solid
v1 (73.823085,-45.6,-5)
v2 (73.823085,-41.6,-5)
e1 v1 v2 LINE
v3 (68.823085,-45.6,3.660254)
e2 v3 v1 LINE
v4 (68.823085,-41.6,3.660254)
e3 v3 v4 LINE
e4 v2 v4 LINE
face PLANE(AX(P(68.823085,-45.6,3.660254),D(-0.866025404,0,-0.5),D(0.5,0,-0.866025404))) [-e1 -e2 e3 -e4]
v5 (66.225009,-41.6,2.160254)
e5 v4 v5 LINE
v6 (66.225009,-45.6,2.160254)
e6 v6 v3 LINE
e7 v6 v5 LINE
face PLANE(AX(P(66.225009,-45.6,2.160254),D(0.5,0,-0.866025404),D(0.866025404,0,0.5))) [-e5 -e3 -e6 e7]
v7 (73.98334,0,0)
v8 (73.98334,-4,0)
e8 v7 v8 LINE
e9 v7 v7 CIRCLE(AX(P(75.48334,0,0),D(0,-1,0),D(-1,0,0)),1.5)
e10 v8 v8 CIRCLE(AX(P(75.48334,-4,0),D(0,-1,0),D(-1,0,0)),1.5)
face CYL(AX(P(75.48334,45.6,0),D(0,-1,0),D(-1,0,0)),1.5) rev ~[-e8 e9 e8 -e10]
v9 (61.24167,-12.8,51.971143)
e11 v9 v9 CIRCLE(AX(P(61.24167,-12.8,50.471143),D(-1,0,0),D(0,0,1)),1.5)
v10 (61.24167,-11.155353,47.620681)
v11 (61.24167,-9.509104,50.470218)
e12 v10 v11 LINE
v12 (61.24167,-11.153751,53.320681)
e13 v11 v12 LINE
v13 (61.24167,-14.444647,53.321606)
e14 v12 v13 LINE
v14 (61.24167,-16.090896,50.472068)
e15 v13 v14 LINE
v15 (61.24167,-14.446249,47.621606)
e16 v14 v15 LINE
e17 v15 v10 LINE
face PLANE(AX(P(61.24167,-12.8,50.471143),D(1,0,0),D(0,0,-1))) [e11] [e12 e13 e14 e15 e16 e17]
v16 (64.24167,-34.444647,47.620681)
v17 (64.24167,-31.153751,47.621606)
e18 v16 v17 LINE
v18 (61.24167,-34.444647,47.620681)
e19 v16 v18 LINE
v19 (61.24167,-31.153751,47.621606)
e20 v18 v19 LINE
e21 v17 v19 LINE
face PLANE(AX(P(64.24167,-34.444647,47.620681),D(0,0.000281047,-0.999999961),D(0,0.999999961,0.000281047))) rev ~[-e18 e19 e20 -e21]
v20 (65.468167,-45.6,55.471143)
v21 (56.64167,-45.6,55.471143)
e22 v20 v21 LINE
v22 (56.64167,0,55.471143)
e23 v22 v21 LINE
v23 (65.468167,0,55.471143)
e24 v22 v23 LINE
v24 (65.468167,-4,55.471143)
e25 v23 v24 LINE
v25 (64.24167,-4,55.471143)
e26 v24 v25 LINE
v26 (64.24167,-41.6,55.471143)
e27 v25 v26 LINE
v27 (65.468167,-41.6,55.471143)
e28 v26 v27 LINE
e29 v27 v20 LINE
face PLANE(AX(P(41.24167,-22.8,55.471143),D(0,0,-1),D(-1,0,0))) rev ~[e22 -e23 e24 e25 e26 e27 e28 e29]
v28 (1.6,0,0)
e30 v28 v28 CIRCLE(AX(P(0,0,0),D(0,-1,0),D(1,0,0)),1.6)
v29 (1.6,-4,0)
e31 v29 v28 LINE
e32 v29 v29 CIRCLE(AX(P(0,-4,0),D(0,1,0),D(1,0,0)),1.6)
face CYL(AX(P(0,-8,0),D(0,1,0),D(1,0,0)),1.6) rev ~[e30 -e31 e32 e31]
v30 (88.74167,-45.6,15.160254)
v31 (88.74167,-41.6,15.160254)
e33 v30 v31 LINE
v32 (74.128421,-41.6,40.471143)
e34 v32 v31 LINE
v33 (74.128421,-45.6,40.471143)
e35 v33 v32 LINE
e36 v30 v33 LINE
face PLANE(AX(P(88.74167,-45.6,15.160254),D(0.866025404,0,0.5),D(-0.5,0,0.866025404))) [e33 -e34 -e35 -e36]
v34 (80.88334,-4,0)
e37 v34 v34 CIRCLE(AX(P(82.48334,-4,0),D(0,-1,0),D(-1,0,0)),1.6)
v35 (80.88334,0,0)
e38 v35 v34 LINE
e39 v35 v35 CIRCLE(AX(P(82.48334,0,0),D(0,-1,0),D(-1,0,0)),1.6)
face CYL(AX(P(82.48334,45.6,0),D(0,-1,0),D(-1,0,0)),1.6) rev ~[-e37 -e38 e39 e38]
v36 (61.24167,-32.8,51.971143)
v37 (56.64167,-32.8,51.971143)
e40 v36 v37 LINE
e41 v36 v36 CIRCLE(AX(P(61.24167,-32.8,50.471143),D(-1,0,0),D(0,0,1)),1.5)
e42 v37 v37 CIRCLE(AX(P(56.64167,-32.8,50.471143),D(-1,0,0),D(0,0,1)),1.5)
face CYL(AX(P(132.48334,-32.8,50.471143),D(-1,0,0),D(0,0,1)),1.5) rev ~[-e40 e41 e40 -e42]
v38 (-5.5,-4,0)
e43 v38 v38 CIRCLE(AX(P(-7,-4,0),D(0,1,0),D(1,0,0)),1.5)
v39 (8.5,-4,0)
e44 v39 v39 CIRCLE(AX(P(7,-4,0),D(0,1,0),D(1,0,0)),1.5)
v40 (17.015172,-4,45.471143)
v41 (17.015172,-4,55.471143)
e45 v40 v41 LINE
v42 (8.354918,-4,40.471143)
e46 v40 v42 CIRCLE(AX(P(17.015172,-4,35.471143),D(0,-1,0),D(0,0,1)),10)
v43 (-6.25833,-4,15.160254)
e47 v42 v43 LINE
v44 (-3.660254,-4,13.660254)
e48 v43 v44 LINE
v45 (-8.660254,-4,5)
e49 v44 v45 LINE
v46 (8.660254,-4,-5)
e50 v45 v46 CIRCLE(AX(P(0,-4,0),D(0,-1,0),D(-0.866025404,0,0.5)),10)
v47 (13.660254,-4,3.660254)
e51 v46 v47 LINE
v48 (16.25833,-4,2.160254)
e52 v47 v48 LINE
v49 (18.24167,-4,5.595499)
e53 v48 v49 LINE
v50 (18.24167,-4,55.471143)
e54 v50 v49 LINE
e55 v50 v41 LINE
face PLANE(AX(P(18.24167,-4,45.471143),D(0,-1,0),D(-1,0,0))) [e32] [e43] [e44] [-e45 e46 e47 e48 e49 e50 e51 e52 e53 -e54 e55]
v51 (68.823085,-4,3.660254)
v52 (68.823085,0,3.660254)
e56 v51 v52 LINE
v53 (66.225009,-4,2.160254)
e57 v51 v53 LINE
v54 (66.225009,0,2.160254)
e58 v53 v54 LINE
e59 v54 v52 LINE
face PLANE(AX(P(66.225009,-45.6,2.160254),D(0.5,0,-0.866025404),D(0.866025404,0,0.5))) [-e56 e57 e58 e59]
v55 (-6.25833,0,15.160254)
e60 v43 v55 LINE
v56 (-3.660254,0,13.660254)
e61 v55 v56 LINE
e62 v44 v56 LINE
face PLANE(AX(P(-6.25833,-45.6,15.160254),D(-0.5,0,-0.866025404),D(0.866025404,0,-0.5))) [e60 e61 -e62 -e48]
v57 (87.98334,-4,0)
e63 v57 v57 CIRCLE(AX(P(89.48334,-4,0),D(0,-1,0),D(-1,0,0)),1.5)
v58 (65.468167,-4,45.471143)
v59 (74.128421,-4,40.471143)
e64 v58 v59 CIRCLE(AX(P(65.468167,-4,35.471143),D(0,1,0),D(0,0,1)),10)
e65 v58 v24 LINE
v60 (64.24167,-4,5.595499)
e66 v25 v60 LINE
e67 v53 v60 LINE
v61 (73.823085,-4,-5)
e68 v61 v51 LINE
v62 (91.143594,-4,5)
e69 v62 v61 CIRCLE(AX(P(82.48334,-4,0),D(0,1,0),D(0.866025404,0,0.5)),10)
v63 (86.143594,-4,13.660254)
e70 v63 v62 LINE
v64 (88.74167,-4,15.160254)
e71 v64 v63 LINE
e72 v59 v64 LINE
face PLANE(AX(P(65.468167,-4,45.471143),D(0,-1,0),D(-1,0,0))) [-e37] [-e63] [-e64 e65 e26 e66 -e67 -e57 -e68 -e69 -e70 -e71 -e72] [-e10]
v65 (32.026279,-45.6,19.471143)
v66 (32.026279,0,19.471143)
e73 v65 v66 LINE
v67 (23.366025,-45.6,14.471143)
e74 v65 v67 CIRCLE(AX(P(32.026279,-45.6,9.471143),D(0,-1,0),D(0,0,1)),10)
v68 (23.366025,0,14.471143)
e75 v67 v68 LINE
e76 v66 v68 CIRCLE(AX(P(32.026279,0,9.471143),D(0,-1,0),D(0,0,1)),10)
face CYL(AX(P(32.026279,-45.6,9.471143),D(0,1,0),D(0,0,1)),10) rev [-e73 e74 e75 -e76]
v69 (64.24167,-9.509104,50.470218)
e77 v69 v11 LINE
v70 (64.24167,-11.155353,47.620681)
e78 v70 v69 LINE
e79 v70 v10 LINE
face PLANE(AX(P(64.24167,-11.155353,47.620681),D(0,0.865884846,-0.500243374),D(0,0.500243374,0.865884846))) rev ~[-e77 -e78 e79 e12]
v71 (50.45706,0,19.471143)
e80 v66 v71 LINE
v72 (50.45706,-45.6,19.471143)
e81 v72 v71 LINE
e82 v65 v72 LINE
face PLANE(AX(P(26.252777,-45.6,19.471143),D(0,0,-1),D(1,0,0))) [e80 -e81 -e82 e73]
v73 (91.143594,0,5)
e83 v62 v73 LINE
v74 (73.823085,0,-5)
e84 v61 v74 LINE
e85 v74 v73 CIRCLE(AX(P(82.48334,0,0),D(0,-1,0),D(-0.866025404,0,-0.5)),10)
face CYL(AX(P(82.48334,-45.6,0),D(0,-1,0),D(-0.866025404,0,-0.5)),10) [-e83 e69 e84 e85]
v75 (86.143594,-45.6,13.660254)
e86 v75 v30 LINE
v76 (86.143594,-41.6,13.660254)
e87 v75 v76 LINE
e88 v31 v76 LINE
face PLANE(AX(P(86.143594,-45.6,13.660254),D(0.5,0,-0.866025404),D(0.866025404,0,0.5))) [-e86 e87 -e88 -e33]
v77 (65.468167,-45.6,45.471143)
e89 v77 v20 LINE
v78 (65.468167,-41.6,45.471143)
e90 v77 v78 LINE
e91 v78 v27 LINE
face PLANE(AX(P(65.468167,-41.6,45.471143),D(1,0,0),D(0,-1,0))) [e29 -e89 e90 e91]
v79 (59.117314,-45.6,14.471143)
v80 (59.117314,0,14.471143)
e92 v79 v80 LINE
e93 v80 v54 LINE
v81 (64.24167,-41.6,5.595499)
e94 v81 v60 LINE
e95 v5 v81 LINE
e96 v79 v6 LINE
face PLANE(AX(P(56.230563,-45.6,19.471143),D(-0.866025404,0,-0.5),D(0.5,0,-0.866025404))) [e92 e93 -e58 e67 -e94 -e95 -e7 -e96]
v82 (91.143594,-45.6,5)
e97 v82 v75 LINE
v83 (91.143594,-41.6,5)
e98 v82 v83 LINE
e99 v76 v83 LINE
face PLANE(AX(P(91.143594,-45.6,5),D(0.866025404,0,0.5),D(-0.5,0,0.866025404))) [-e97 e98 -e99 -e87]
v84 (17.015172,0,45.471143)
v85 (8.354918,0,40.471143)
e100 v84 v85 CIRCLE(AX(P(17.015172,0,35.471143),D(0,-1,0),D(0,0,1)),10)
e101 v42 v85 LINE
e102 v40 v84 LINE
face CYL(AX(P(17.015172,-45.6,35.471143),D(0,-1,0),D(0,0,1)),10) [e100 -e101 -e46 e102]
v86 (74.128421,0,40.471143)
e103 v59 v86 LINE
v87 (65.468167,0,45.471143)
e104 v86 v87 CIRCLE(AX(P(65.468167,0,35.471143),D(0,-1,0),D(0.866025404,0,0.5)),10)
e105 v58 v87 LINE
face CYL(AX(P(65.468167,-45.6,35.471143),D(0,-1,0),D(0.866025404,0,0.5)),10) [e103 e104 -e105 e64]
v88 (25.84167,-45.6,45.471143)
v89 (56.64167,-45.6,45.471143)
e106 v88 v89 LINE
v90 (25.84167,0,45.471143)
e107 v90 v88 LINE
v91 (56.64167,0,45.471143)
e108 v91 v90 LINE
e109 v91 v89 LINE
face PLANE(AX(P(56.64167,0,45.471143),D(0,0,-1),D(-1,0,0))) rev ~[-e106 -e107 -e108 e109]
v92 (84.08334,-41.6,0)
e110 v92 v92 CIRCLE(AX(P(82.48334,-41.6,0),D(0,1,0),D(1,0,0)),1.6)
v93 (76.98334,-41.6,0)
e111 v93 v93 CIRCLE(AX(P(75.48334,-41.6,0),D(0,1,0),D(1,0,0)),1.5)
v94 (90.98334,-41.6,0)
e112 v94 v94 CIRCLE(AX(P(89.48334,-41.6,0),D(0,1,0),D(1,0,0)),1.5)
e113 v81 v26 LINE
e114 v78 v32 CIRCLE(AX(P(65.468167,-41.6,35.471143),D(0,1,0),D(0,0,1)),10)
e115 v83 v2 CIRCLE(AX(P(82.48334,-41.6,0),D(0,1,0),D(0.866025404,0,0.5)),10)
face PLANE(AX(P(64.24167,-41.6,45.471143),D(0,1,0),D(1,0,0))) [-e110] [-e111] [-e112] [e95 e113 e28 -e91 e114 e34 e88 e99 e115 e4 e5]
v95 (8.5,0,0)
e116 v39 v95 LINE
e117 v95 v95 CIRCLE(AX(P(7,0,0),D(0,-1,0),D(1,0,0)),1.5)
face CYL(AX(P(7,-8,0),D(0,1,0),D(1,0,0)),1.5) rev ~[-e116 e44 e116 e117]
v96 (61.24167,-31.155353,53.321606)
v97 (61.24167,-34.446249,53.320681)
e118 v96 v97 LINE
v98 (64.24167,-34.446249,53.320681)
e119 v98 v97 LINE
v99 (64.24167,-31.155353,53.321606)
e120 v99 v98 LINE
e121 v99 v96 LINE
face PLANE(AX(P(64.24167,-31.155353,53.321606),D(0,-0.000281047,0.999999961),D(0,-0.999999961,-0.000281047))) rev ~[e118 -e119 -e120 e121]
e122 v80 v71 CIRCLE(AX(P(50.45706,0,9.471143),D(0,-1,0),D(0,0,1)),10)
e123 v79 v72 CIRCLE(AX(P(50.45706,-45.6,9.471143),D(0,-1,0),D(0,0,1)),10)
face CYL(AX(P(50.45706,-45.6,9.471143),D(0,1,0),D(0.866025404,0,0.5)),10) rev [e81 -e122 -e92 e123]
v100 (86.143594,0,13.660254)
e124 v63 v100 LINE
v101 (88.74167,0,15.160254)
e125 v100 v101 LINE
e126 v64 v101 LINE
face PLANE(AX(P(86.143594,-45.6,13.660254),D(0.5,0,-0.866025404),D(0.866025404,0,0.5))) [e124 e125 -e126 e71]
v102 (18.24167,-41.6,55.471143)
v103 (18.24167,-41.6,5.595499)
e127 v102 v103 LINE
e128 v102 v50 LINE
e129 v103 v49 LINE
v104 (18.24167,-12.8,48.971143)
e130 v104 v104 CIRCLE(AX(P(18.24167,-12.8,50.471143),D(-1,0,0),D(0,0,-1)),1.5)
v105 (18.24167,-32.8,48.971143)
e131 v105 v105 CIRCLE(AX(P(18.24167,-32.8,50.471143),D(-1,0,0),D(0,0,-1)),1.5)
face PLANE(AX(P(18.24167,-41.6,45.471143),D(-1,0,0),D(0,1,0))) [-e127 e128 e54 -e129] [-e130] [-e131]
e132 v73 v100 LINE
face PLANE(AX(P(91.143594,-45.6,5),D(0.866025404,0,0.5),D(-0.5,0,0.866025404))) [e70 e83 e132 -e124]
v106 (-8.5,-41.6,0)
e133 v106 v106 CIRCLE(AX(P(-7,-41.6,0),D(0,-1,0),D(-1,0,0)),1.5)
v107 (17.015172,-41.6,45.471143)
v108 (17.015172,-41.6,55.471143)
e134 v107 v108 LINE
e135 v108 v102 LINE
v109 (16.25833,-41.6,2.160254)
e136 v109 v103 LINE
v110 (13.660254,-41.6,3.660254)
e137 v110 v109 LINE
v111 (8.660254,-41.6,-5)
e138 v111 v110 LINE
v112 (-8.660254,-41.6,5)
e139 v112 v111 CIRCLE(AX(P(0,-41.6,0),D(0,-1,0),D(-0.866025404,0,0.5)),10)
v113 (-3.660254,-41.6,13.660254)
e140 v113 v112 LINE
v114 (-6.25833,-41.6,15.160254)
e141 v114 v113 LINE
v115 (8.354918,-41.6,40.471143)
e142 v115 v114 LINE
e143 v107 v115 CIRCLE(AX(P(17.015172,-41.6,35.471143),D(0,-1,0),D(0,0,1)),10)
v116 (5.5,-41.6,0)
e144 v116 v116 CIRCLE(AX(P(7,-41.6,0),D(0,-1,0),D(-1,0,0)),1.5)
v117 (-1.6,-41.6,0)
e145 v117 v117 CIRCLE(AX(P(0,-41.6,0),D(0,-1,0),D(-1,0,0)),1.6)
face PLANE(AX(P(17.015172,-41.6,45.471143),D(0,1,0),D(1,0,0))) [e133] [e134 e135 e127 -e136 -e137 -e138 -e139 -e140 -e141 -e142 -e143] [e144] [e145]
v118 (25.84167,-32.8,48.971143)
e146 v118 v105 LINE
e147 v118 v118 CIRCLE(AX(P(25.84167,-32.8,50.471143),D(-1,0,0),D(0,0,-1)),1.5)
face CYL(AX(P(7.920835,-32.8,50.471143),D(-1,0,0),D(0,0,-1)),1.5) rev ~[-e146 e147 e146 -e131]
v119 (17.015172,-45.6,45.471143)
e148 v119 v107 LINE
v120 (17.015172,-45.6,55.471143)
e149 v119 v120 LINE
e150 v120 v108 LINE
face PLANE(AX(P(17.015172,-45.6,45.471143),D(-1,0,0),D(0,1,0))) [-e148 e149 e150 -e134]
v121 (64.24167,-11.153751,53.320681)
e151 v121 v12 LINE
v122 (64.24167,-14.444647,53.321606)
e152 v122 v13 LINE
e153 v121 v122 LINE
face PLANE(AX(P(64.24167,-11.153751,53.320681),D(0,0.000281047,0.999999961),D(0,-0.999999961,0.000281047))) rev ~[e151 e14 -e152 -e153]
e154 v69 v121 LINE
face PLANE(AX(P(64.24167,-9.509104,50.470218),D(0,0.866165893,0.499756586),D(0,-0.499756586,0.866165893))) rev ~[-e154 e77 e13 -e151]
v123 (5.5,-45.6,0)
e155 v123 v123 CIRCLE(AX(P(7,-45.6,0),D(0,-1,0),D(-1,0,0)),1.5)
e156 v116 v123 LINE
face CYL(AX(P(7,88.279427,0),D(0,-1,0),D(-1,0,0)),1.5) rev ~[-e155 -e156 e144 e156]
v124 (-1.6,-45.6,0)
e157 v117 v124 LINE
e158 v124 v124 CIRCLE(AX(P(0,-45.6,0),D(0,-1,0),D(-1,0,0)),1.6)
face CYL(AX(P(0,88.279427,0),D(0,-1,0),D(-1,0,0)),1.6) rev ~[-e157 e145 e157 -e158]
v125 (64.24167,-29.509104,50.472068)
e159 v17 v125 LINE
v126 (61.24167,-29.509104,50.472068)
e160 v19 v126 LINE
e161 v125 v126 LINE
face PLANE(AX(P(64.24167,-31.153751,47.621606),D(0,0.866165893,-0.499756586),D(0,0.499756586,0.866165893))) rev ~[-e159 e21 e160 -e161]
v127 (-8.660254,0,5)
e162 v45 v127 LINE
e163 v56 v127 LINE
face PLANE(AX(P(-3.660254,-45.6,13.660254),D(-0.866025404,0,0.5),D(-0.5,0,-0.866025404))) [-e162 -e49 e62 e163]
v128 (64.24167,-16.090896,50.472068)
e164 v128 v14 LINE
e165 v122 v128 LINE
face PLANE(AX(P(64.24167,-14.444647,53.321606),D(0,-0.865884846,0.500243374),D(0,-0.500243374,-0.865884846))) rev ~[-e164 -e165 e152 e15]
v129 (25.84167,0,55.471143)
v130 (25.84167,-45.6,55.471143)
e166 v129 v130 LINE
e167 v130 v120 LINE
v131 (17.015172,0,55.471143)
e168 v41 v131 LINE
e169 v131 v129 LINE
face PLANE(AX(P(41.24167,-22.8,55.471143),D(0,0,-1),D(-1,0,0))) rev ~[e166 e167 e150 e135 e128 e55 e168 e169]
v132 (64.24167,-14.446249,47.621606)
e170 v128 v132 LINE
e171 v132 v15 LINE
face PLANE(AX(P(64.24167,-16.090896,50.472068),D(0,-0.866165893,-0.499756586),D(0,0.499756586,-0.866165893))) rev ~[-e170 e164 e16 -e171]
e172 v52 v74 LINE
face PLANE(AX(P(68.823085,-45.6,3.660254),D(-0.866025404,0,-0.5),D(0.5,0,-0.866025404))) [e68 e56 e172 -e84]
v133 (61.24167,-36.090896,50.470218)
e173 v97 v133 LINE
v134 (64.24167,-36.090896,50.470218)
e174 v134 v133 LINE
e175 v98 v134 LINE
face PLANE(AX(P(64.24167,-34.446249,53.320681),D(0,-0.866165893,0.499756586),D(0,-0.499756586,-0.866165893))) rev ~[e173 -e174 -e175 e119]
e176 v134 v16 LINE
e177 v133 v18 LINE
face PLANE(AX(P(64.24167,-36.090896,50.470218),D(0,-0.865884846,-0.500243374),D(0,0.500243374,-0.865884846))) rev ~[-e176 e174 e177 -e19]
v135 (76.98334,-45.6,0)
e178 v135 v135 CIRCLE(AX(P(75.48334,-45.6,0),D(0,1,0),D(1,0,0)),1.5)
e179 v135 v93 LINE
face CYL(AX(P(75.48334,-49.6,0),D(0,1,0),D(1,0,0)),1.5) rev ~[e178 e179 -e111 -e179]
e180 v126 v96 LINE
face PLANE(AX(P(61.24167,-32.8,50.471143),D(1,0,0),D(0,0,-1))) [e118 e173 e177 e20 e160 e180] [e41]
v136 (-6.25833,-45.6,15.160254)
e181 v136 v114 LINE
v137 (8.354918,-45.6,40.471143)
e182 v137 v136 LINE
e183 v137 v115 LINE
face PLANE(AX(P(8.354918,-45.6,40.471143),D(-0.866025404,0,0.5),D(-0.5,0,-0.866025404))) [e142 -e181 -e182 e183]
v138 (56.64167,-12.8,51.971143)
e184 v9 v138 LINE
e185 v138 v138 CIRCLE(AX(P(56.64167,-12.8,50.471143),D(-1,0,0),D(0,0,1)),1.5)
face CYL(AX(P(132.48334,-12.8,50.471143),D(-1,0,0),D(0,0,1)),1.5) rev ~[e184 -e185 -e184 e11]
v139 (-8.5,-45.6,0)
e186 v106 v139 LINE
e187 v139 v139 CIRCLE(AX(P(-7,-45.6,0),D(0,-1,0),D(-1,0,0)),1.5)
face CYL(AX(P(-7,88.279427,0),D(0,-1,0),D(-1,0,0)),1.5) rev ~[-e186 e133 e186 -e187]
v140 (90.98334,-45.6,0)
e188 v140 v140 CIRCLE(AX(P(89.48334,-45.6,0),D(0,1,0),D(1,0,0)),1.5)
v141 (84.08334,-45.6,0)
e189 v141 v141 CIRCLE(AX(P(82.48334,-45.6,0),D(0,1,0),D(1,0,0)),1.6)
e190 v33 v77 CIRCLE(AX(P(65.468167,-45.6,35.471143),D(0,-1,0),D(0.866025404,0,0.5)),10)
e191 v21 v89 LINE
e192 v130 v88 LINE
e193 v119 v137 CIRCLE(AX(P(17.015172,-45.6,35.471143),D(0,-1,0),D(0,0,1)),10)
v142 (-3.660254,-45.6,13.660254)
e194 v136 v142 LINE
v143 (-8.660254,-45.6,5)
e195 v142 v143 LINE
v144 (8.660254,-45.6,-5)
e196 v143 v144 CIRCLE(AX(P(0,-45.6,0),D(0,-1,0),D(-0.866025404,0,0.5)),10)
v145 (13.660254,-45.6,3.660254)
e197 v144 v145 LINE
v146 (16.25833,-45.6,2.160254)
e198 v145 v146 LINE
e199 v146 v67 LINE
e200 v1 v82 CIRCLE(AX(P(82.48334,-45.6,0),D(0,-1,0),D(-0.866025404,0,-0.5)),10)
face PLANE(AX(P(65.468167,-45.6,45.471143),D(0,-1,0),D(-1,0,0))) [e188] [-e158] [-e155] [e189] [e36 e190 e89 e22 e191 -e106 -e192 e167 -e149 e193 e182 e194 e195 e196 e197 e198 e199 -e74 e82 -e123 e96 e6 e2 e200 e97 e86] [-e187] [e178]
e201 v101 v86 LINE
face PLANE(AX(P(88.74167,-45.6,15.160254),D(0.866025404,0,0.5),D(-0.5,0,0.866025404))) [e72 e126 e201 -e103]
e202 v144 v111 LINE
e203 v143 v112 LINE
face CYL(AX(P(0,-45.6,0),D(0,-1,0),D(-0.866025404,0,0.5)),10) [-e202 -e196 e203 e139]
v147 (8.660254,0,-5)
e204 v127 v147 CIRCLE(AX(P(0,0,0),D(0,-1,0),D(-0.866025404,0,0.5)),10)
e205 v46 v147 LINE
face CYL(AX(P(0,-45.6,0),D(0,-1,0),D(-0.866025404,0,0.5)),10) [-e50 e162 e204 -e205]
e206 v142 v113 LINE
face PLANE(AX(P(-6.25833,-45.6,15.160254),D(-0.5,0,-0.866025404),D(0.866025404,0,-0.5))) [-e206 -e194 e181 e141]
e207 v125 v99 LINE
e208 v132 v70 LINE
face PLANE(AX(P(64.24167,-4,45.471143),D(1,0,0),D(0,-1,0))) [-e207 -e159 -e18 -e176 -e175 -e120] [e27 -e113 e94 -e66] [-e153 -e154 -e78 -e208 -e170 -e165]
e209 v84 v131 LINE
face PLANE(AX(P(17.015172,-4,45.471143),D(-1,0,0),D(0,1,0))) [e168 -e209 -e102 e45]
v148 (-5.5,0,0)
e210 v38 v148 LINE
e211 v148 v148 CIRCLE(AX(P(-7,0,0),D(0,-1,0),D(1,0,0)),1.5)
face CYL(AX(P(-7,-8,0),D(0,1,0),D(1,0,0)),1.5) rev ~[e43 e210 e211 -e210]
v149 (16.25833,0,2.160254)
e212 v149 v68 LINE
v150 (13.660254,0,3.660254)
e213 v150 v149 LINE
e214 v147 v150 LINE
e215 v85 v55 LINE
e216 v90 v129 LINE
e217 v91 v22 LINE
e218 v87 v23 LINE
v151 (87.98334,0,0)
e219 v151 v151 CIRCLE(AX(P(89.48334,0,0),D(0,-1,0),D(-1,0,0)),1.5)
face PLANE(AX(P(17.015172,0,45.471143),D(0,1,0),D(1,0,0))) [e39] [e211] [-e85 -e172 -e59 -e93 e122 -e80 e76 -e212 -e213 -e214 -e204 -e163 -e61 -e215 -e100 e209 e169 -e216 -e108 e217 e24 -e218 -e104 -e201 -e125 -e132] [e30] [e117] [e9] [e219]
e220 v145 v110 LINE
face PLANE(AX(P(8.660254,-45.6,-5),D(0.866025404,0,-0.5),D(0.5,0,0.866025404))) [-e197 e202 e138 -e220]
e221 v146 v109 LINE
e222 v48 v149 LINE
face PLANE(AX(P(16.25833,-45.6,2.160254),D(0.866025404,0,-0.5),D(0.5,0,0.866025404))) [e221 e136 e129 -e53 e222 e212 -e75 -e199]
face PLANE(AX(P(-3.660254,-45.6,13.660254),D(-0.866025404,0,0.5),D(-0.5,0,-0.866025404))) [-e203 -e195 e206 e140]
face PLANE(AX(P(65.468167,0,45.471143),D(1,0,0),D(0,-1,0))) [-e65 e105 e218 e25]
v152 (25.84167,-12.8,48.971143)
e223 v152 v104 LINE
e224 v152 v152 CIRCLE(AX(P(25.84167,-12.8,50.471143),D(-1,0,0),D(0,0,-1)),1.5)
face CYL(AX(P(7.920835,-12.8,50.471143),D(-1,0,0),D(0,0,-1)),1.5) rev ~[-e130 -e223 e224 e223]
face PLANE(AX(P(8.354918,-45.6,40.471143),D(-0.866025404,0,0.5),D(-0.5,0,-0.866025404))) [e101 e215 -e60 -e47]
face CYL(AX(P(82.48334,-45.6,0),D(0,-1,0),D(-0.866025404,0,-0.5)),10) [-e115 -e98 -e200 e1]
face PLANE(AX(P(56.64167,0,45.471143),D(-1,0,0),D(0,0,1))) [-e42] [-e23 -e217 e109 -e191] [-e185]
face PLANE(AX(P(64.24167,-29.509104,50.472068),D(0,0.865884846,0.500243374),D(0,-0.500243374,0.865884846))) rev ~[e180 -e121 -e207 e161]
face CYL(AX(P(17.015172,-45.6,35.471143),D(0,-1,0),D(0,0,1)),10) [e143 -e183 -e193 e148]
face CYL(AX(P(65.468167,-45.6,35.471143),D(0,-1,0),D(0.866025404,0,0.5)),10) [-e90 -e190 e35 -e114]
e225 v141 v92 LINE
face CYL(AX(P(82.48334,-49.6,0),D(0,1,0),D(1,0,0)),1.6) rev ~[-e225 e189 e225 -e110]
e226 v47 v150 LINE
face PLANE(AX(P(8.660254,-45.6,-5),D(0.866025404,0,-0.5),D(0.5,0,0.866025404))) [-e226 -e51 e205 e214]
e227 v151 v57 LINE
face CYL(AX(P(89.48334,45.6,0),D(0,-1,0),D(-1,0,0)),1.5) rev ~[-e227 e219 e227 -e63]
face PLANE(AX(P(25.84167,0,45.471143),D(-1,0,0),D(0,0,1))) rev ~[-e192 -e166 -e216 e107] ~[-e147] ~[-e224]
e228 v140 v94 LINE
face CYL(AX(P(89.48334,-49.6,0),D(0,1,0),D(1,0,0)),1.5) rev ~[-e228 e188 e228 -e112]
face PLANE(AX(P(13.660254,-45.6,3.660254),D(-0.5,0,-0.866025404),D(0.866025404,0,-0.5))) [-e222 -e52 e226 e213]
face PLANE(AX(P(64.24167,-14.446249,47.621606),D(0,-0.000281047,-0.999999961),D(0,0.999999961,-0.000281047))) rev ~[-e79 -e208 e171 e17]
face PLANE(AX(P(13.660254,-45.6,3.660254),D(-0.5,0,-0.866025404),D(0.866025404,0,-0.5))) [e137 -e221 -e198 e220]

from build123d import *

# Parameters (mm, degrees)
SALIENTE_EXTRUIR1_DEPTH                = 45.6
CORTAR_EXTRUIR1_START                  = -37.6
CORTAR_EXTRUIR1_DEPTH                  = 37.6
CORTAR_EXTRUIR2_DEPTH                  = 37.6
SALIENTE_EXTRUIR2_DEPTH                = 10
CROQUIS5_W                             = 30.8
CROQUIS5_H                             = 10
CORTAR_EXTRUIR3_DEPTH                  = 118.087897795
CORTAR_EXTRUIR4_DEPTH                  = 3
CORTAR_EXTRUIR5_DEPTH                  = 3
CROQUIS8_W                             = 1.5
CROQUIS8_H                             = 35.841669751
DI_METRO_DE_TALADRO_3_0_3_1_AT_2_COUNT = 2
DI_METRO_DE_TALADRO_3_0_3_1_AT_2_PITCH = 20
DI_METRO_DE_TALADRO_3_0_3_2_D          = 3
DI_METRO_DE_TALADRO_3_0_3_2_DEPTH      = 4
DI_METRO_DE_TALADRO_3_2_3_2_1_D        = 3.2
DI_METRO_DE_TALADRO_3_2_3_2_1_DEPTH    = 4
DI_METRO_DE_TALADRO_3_0_3_3_D          = 3
DI_METRO_DE_TALADRO_3_0_3_3_DEPTH      = 4
DI_METRO_DE_TALADRO_3_0_3_4_D          = 3
DI_METRO_DE_TALADRO_3_0_3_5_D          = 3
DI_METRO_DE_TALADRO_3_0_3_5_DEPTH      = 45.6
DI_METRO_DE_TALADRO_3_2_3_2_2_D        = 3.2
DI_METRO_DE_TALADRO_3_2_3_2_2_DEPTH    = 4
DI_METRO_DE_TALADRO_3_2_3_2_3_D        = 3.2
DI_METRO_DE_TALADRO_3_2_3_2_4_D        = 3.2
DI_METRO_DE_TALADRO_3_2_3_2_4_DEPTH    = 45.6
DI_METRO_DE_TALADRO_3_0_3_6_D          = 3
DI_METRO_DE_TALADRO_3_0_3_6_DEPTH      = 71.241669751
REDONDEO1_R                            = 10


with BuildPart() as part:
    # Croquis1 → Saliente-Extruir1 (new body)
    with BuildSketch(Plane.XZ.offset(45.6)):
        with BuildLine():
            Line((65.468167059, 45.47114317), (17.015172443, 45.47114317))
            ThreePointArc((17.015172443, 45.47114317), (12.015172443, 44.131397208), (8.354918405, 40.47114317))
            Line((8.354918405, 40.47114317), (-6.258330249, 15.160254038))
            Line((-6.258330249, 15.160254038), (-3.660254038, 13.660254038))
            Line((-3.660254038, 13.660254038), (-8.660254038, 5))
            ThreePointArc((-8.660254038, 5), (-5, -8.660254038), (8.660254038, -5))
            Line((8.660254038, -5), (13.660254038, 3.660254038))
            Line((13.660254038, 3.660254038), (16.258330249, 2.160254038))
            Line((16.258330249, 2.160254038), (26.25277675, 19.47114317))
            Line((26.25277675, 19.47114317), (56.230562752, 19.47114317))
            Line((56.230562752, 19.47114317), (66.225009252, 2.160254038))
            Line((66.225009252, 2.160254038), (68.823085464, 3.660254038))
            Line((68.823085464, 3.660254038), (73.823085464, -5))
            ThreePointArc((73.823085464, -5), (87.483339502, -8.660254038), (91.143593539, 5))
            Line((91.143593539, 5), (86.143593539, 13.660254038))
            Line((86.143593539, 13.660254038), (88.741669751, 15.160254038))
            Line((88.741669751, 15.160254038), (74.128421097, 40.47114317))
            ThreePointArc((74.128421097, 40.47114317), (70.468167059, 44.131397208), (65.468167059, 45.47114317))
        make_face()
    extrude(amount=-SALIENTE_EXTRUIR1_DEPTH)

    # Croquis2 → Cortar-Extruir1 (cut)
    with BuildSketch(Plane(origin=(0, -4, 0), x_dir=(1, 0, 0), z_dir=(0, 1, 0)).offset(CORTAR_EXTRUIR1_START)):
        with BuildLine():
            Line((64.241669751, -45.47114317), (65.468167059, -45.47114317))
            ThreePointArc((65.468167059, -45.47114317), (70.468167059, -44.131397208), (74.128421097, -40.47114317))
            Line((74.128421097, -40.47114317), (88.741669751, -15.160254038))
            Line((88.741669751, -15.160254038), (86.143593539, -13.660254038))
            Line((86.143593539, -13.660254038), (91.143593539, -5))
            ThreePointArc((91.143593539, -5), (87.483339502, 8.660254038), (73.823085464, 5))
            Line((73.823085464, 5), (68.823085464, -3.660254038))
            Line((68.823085464, -3.660254038), (66.225009252, -2.160254038))
            Line((66.225009252, -2.160254038), (64.241669751, -5.595498823))
            Line((64.241669751, -5.595498823), (64.241669751, -45.47114317))
        make_face()
    extrude(amount=CORTAR_EXTRUIR1_DEPTH, mode=Mode.SUBTRACT)

    # Croquis3 → Cortar-Extruir2 (cut)
    with BuildSketch(Plane.XZ.offset(41.6)):
        with BuildLine():
            Line((18.241669751, 5.595498823), (18.241669751, 45.47114317))
            Line((18.241669751, 45.47114317), (17.015172443, 45.47114317))
            ThreePointArc((17.015172443, 45.47114317), (12.015172443, 44.131397208), (8.354918405, 40.47114317))
            Line((8.354918405, 40.47114317), (-6.258330249, 15.160254038))
            Line((-6.258330249, 15.160254038), (-3.660254038, 13.660254038))
            Line((-3.660254038, 13.660254038), (-8.660254038, 5))
            ThreePointArc((-8.660254038, 5), (-5, -8.660254038), (8.660254038, -5))
            Line((8.660254038, -5), (13.660254038, 3.660254038))
            Line((13.660254038, 3.660254038), (16.258330249, 2.160254038))
            Line((16.258330249, 2.160254038), (18.241669751, 5.595498823))
        make_face()
    extrude(amount=-CORTAR_EXTRUIR2_DEPTH, mode=Mode.SUBTRACT)

    # Croquis4 → Saliente-Extruir2 (add)
    with BuildSketch(Plane.XY.offset(45.47114317)):
        Polygon((65.468167059, -45.6), (17.015172443, -45.6), (17.015172443, -41.6), (18.241669751, -41.6), (18.241669751, -4), (17.015172443, -4), (17.015172443, 0), (65.468167059, 0), (65.468167059, -4), (64.241669751, -4), (64.241669751, -41.6), (65.468167059, -41.6), align=None)
    extrude(amount=SALIENTE_EXTRUIR2_DEPTH)

    # Croquis5 → Cortar-Extruir3 (cut, through all)
    with BuildSketch(Plane(origin=(0, 0, 0), x_dir=(-1, 0, 0), z_dir=(0, 1, 0))):
        with Locations((-41.241669751, 50.47114317)):
            Rectangle(CROQUIS5_W, CROQUIS5_H)
    extrude(amount=-CORTAR_EXTRUIR3_DEPTH, mode=Mode.SUBTRACT)

    # Croquis6 → Cortar-Extruir4 (cut)
    with BuildSketch(Plane(origin=(64.241669751, 0, 0), x_dir=(0, 0, -1), z_dir=(1, 0, 0))):
        Polygon((-47.620680834, -34.444647218), (-47.621605732, -31.153750813), (-50.472068068, -29.509103596), (-53.321605506, -31.155352782), (-53.320680609, -34.446249187), (-50.470218273, -36.090896404), align=None)
    extrude(amount=-CORTAR_EXTRUIR4_DEPTH, mode=Mode.SUBTRACT)

    # Croquis7 → Cortar-Extruir5 (cut)
    with BuildSketch(Plane(origin=(64.241669751, 0, 0), x_dir=(0, 0, -1), z_dir=(1, 0, 0))):
        Polygon((-50.470218273, -9.509103596), (-53.320680609, -11.153750813), (-53.321605506, -14.444647218), (-50.472068068, -16.090896404), (-47.621605732, -14.446249187), (-47.620680834, -11.155352782), align=None)
    extrude(amount=-CORTAR_EXTRUIR5_DEPTH, mode=Mode.SUBTRACT)

    # Croquis8 → Diámetro de taladro Ø3.0 (3)1 (revolve, cut)
    with BuildSketch(Plane(origin=(25.841669751, -12.8, 50.47114317), x_dir=(0, 0, -1), z_dir=(0, 1, 0))):
        with Locations((0.75, 17.920834876)):
            Rectangle(CROQUIS8_W, CROQUIS8_H)
    di_metro_de_taladro_3_0_3_1 = revolve(axis=Axis((32.191669751, -12.8, 50.47114317), (-1, 0, 0)), mode=Mode.SUBTRACT)

    # Diámetro de taladro Ø3.0 (3)1 at 2: Diámetro de taladro Ø3.0 (3)1 ×2
    with Locations(*[(0, -i * DI_METRO_DE_TALADRO_3_0_3_1_AT_2_PITCH, 0) for i in range(1, DI_METRO_DE_TALADRO_3_0_3_1_AT_2_COUNT)]):
        add(di_metro_de_taladro_3_0_3_1, mode=Mode.SUBTRACT)

    # Diámetro de taladro Ø3.0 (3)2
    with Locations(Plane(origin=(0, -45.6, 0), x_dir=(-1, 0, 0), z_dir=(0, -1, 0))):
        with Locations((-89.483339502, 0), (-75.483339502, 0)):
            Hole(DI_METRO_DE_TALADRO_3_0_3_2_D / 2, depth=DI_METRO_DE_TALADRO_3_0_3_2_DEPTH)

    # Diámetro de taladro Ø3.2 (3.2)1
    with Locations(Plane(origin=(0, -45.6, 0), x_dir=(-1, 0, 0), z_dir=(0, -1, 0))):
        with Locations((-82.483339502, 0)):
            Hole(DI_METRO_DE_TALADRO_3_2_3_2_1_D / 2, depth=DI_METRO_DE_TALADRO_3_2_3_2_1_DEPTH)

    # Diámetro de taladro Ø3.0 (3)3
    with Locations(Plane(origin=(0, -4, 0), x_dir=(-1, 0, 0), z_dir=(0, -1, 0))):
        with Locations((-7, 0), (7, 0)):
            Hole(DI_METRO_DE_TALADRO_3_0_3_3_D / 2, depth=DI_METRO_DE_TALADRO_3_0_3_3_DEPTH)

    # Diámetro de taladro Ø3.0 (3)4 (through all)
    with Locations(Plane(origin=(0, -41.6, 0), x_dir=(1, 0, 0), z_dir=(0, 1, 0))):
        with Locations((7, 0), (-7, 0)):
            Hole(DI_METRO_DE_TALADRO_3_0_3_4_D / 2)

    # Diámetro de taladro Ø3.0 (3)5
    with Locations(Plane(origin=(0, 0, 0), x_dir=(1, 0, 0), z_dir=(0, 1, 0))):
        with Locations((89.483339502, 0), (75.483339502, 0)):
            Hole(DI_METRO_DE_TALADRO_3_0_3_5_D / 2, depth=DI_METRO_DE_TALADRO_3_0_3_5_DEPTH)

    # Diámetro de taladro Ø3.2 (3.2)2
    with Locations(Plane(origin=(0, -4, 0), x_dir=(-1, 0, 0), z_dir=(0, -1, 0))):
        with Locations((0, 0)):
            Hole(DI_METRO_DE_TALADRO_3_2_3_2_2_D / 2, depth=DI_METRO_DE_TALADRO_3_2_3_2_2_DEPTH)

    # Diámetro de taladro Ø3.2 (3.2)3 (through all)
    with Locations(Plane(origin=(0, -41.6, 0), x_dir=(1, 0, 0), z_dir=(0, 1, 0))):
        with Locations((0, 0)):
            Hole(DI_METRO_DE_TALADRO_3_2_3_2_3_D / 2)

    # Diámetro de taladro Ø3.2 (3.2)4
    with Locations(Plane(origin=(0, 0, 0), x_dir=(1, 0, 0), z_dir=(0, 1, 0))):
        with Locations((82.483339502, 0)):
            Hole(DI_METRO_DE_TALADRO_3_2_3_2_4_D / 2, depth=DI_METRO_DE_TALADRO_3_2_3_2_4_DEPTH)

    # Diámetro de taladro Ø3.0 (3)6
    with Locations(Plane(origin=(61.241669751, 0, 0), x_dir=(0, 0, -1), z_dir=(1, 0, 0))):
        with Locations((-50.47114317, -12.8), (-50.47114317, -32.8)):
            Hole(DI_METRO_DE_TALADRO_3_0_3_6_D / 2, depth=DI_METRO_DE_TALADRO_3_0_3_6_DEPTH)

    # Redondeo1
    redondeo1_edges = [part.edges().sort_by_distance(p)[0] for p in [
        (56.230562752, -22.8, 19.47114317),
        (26.25277675, -22.8, 19.47114317),
    ]]
    fillet(redondeo1_edges, radius=REDONDEO1_R)


solid = part.part
